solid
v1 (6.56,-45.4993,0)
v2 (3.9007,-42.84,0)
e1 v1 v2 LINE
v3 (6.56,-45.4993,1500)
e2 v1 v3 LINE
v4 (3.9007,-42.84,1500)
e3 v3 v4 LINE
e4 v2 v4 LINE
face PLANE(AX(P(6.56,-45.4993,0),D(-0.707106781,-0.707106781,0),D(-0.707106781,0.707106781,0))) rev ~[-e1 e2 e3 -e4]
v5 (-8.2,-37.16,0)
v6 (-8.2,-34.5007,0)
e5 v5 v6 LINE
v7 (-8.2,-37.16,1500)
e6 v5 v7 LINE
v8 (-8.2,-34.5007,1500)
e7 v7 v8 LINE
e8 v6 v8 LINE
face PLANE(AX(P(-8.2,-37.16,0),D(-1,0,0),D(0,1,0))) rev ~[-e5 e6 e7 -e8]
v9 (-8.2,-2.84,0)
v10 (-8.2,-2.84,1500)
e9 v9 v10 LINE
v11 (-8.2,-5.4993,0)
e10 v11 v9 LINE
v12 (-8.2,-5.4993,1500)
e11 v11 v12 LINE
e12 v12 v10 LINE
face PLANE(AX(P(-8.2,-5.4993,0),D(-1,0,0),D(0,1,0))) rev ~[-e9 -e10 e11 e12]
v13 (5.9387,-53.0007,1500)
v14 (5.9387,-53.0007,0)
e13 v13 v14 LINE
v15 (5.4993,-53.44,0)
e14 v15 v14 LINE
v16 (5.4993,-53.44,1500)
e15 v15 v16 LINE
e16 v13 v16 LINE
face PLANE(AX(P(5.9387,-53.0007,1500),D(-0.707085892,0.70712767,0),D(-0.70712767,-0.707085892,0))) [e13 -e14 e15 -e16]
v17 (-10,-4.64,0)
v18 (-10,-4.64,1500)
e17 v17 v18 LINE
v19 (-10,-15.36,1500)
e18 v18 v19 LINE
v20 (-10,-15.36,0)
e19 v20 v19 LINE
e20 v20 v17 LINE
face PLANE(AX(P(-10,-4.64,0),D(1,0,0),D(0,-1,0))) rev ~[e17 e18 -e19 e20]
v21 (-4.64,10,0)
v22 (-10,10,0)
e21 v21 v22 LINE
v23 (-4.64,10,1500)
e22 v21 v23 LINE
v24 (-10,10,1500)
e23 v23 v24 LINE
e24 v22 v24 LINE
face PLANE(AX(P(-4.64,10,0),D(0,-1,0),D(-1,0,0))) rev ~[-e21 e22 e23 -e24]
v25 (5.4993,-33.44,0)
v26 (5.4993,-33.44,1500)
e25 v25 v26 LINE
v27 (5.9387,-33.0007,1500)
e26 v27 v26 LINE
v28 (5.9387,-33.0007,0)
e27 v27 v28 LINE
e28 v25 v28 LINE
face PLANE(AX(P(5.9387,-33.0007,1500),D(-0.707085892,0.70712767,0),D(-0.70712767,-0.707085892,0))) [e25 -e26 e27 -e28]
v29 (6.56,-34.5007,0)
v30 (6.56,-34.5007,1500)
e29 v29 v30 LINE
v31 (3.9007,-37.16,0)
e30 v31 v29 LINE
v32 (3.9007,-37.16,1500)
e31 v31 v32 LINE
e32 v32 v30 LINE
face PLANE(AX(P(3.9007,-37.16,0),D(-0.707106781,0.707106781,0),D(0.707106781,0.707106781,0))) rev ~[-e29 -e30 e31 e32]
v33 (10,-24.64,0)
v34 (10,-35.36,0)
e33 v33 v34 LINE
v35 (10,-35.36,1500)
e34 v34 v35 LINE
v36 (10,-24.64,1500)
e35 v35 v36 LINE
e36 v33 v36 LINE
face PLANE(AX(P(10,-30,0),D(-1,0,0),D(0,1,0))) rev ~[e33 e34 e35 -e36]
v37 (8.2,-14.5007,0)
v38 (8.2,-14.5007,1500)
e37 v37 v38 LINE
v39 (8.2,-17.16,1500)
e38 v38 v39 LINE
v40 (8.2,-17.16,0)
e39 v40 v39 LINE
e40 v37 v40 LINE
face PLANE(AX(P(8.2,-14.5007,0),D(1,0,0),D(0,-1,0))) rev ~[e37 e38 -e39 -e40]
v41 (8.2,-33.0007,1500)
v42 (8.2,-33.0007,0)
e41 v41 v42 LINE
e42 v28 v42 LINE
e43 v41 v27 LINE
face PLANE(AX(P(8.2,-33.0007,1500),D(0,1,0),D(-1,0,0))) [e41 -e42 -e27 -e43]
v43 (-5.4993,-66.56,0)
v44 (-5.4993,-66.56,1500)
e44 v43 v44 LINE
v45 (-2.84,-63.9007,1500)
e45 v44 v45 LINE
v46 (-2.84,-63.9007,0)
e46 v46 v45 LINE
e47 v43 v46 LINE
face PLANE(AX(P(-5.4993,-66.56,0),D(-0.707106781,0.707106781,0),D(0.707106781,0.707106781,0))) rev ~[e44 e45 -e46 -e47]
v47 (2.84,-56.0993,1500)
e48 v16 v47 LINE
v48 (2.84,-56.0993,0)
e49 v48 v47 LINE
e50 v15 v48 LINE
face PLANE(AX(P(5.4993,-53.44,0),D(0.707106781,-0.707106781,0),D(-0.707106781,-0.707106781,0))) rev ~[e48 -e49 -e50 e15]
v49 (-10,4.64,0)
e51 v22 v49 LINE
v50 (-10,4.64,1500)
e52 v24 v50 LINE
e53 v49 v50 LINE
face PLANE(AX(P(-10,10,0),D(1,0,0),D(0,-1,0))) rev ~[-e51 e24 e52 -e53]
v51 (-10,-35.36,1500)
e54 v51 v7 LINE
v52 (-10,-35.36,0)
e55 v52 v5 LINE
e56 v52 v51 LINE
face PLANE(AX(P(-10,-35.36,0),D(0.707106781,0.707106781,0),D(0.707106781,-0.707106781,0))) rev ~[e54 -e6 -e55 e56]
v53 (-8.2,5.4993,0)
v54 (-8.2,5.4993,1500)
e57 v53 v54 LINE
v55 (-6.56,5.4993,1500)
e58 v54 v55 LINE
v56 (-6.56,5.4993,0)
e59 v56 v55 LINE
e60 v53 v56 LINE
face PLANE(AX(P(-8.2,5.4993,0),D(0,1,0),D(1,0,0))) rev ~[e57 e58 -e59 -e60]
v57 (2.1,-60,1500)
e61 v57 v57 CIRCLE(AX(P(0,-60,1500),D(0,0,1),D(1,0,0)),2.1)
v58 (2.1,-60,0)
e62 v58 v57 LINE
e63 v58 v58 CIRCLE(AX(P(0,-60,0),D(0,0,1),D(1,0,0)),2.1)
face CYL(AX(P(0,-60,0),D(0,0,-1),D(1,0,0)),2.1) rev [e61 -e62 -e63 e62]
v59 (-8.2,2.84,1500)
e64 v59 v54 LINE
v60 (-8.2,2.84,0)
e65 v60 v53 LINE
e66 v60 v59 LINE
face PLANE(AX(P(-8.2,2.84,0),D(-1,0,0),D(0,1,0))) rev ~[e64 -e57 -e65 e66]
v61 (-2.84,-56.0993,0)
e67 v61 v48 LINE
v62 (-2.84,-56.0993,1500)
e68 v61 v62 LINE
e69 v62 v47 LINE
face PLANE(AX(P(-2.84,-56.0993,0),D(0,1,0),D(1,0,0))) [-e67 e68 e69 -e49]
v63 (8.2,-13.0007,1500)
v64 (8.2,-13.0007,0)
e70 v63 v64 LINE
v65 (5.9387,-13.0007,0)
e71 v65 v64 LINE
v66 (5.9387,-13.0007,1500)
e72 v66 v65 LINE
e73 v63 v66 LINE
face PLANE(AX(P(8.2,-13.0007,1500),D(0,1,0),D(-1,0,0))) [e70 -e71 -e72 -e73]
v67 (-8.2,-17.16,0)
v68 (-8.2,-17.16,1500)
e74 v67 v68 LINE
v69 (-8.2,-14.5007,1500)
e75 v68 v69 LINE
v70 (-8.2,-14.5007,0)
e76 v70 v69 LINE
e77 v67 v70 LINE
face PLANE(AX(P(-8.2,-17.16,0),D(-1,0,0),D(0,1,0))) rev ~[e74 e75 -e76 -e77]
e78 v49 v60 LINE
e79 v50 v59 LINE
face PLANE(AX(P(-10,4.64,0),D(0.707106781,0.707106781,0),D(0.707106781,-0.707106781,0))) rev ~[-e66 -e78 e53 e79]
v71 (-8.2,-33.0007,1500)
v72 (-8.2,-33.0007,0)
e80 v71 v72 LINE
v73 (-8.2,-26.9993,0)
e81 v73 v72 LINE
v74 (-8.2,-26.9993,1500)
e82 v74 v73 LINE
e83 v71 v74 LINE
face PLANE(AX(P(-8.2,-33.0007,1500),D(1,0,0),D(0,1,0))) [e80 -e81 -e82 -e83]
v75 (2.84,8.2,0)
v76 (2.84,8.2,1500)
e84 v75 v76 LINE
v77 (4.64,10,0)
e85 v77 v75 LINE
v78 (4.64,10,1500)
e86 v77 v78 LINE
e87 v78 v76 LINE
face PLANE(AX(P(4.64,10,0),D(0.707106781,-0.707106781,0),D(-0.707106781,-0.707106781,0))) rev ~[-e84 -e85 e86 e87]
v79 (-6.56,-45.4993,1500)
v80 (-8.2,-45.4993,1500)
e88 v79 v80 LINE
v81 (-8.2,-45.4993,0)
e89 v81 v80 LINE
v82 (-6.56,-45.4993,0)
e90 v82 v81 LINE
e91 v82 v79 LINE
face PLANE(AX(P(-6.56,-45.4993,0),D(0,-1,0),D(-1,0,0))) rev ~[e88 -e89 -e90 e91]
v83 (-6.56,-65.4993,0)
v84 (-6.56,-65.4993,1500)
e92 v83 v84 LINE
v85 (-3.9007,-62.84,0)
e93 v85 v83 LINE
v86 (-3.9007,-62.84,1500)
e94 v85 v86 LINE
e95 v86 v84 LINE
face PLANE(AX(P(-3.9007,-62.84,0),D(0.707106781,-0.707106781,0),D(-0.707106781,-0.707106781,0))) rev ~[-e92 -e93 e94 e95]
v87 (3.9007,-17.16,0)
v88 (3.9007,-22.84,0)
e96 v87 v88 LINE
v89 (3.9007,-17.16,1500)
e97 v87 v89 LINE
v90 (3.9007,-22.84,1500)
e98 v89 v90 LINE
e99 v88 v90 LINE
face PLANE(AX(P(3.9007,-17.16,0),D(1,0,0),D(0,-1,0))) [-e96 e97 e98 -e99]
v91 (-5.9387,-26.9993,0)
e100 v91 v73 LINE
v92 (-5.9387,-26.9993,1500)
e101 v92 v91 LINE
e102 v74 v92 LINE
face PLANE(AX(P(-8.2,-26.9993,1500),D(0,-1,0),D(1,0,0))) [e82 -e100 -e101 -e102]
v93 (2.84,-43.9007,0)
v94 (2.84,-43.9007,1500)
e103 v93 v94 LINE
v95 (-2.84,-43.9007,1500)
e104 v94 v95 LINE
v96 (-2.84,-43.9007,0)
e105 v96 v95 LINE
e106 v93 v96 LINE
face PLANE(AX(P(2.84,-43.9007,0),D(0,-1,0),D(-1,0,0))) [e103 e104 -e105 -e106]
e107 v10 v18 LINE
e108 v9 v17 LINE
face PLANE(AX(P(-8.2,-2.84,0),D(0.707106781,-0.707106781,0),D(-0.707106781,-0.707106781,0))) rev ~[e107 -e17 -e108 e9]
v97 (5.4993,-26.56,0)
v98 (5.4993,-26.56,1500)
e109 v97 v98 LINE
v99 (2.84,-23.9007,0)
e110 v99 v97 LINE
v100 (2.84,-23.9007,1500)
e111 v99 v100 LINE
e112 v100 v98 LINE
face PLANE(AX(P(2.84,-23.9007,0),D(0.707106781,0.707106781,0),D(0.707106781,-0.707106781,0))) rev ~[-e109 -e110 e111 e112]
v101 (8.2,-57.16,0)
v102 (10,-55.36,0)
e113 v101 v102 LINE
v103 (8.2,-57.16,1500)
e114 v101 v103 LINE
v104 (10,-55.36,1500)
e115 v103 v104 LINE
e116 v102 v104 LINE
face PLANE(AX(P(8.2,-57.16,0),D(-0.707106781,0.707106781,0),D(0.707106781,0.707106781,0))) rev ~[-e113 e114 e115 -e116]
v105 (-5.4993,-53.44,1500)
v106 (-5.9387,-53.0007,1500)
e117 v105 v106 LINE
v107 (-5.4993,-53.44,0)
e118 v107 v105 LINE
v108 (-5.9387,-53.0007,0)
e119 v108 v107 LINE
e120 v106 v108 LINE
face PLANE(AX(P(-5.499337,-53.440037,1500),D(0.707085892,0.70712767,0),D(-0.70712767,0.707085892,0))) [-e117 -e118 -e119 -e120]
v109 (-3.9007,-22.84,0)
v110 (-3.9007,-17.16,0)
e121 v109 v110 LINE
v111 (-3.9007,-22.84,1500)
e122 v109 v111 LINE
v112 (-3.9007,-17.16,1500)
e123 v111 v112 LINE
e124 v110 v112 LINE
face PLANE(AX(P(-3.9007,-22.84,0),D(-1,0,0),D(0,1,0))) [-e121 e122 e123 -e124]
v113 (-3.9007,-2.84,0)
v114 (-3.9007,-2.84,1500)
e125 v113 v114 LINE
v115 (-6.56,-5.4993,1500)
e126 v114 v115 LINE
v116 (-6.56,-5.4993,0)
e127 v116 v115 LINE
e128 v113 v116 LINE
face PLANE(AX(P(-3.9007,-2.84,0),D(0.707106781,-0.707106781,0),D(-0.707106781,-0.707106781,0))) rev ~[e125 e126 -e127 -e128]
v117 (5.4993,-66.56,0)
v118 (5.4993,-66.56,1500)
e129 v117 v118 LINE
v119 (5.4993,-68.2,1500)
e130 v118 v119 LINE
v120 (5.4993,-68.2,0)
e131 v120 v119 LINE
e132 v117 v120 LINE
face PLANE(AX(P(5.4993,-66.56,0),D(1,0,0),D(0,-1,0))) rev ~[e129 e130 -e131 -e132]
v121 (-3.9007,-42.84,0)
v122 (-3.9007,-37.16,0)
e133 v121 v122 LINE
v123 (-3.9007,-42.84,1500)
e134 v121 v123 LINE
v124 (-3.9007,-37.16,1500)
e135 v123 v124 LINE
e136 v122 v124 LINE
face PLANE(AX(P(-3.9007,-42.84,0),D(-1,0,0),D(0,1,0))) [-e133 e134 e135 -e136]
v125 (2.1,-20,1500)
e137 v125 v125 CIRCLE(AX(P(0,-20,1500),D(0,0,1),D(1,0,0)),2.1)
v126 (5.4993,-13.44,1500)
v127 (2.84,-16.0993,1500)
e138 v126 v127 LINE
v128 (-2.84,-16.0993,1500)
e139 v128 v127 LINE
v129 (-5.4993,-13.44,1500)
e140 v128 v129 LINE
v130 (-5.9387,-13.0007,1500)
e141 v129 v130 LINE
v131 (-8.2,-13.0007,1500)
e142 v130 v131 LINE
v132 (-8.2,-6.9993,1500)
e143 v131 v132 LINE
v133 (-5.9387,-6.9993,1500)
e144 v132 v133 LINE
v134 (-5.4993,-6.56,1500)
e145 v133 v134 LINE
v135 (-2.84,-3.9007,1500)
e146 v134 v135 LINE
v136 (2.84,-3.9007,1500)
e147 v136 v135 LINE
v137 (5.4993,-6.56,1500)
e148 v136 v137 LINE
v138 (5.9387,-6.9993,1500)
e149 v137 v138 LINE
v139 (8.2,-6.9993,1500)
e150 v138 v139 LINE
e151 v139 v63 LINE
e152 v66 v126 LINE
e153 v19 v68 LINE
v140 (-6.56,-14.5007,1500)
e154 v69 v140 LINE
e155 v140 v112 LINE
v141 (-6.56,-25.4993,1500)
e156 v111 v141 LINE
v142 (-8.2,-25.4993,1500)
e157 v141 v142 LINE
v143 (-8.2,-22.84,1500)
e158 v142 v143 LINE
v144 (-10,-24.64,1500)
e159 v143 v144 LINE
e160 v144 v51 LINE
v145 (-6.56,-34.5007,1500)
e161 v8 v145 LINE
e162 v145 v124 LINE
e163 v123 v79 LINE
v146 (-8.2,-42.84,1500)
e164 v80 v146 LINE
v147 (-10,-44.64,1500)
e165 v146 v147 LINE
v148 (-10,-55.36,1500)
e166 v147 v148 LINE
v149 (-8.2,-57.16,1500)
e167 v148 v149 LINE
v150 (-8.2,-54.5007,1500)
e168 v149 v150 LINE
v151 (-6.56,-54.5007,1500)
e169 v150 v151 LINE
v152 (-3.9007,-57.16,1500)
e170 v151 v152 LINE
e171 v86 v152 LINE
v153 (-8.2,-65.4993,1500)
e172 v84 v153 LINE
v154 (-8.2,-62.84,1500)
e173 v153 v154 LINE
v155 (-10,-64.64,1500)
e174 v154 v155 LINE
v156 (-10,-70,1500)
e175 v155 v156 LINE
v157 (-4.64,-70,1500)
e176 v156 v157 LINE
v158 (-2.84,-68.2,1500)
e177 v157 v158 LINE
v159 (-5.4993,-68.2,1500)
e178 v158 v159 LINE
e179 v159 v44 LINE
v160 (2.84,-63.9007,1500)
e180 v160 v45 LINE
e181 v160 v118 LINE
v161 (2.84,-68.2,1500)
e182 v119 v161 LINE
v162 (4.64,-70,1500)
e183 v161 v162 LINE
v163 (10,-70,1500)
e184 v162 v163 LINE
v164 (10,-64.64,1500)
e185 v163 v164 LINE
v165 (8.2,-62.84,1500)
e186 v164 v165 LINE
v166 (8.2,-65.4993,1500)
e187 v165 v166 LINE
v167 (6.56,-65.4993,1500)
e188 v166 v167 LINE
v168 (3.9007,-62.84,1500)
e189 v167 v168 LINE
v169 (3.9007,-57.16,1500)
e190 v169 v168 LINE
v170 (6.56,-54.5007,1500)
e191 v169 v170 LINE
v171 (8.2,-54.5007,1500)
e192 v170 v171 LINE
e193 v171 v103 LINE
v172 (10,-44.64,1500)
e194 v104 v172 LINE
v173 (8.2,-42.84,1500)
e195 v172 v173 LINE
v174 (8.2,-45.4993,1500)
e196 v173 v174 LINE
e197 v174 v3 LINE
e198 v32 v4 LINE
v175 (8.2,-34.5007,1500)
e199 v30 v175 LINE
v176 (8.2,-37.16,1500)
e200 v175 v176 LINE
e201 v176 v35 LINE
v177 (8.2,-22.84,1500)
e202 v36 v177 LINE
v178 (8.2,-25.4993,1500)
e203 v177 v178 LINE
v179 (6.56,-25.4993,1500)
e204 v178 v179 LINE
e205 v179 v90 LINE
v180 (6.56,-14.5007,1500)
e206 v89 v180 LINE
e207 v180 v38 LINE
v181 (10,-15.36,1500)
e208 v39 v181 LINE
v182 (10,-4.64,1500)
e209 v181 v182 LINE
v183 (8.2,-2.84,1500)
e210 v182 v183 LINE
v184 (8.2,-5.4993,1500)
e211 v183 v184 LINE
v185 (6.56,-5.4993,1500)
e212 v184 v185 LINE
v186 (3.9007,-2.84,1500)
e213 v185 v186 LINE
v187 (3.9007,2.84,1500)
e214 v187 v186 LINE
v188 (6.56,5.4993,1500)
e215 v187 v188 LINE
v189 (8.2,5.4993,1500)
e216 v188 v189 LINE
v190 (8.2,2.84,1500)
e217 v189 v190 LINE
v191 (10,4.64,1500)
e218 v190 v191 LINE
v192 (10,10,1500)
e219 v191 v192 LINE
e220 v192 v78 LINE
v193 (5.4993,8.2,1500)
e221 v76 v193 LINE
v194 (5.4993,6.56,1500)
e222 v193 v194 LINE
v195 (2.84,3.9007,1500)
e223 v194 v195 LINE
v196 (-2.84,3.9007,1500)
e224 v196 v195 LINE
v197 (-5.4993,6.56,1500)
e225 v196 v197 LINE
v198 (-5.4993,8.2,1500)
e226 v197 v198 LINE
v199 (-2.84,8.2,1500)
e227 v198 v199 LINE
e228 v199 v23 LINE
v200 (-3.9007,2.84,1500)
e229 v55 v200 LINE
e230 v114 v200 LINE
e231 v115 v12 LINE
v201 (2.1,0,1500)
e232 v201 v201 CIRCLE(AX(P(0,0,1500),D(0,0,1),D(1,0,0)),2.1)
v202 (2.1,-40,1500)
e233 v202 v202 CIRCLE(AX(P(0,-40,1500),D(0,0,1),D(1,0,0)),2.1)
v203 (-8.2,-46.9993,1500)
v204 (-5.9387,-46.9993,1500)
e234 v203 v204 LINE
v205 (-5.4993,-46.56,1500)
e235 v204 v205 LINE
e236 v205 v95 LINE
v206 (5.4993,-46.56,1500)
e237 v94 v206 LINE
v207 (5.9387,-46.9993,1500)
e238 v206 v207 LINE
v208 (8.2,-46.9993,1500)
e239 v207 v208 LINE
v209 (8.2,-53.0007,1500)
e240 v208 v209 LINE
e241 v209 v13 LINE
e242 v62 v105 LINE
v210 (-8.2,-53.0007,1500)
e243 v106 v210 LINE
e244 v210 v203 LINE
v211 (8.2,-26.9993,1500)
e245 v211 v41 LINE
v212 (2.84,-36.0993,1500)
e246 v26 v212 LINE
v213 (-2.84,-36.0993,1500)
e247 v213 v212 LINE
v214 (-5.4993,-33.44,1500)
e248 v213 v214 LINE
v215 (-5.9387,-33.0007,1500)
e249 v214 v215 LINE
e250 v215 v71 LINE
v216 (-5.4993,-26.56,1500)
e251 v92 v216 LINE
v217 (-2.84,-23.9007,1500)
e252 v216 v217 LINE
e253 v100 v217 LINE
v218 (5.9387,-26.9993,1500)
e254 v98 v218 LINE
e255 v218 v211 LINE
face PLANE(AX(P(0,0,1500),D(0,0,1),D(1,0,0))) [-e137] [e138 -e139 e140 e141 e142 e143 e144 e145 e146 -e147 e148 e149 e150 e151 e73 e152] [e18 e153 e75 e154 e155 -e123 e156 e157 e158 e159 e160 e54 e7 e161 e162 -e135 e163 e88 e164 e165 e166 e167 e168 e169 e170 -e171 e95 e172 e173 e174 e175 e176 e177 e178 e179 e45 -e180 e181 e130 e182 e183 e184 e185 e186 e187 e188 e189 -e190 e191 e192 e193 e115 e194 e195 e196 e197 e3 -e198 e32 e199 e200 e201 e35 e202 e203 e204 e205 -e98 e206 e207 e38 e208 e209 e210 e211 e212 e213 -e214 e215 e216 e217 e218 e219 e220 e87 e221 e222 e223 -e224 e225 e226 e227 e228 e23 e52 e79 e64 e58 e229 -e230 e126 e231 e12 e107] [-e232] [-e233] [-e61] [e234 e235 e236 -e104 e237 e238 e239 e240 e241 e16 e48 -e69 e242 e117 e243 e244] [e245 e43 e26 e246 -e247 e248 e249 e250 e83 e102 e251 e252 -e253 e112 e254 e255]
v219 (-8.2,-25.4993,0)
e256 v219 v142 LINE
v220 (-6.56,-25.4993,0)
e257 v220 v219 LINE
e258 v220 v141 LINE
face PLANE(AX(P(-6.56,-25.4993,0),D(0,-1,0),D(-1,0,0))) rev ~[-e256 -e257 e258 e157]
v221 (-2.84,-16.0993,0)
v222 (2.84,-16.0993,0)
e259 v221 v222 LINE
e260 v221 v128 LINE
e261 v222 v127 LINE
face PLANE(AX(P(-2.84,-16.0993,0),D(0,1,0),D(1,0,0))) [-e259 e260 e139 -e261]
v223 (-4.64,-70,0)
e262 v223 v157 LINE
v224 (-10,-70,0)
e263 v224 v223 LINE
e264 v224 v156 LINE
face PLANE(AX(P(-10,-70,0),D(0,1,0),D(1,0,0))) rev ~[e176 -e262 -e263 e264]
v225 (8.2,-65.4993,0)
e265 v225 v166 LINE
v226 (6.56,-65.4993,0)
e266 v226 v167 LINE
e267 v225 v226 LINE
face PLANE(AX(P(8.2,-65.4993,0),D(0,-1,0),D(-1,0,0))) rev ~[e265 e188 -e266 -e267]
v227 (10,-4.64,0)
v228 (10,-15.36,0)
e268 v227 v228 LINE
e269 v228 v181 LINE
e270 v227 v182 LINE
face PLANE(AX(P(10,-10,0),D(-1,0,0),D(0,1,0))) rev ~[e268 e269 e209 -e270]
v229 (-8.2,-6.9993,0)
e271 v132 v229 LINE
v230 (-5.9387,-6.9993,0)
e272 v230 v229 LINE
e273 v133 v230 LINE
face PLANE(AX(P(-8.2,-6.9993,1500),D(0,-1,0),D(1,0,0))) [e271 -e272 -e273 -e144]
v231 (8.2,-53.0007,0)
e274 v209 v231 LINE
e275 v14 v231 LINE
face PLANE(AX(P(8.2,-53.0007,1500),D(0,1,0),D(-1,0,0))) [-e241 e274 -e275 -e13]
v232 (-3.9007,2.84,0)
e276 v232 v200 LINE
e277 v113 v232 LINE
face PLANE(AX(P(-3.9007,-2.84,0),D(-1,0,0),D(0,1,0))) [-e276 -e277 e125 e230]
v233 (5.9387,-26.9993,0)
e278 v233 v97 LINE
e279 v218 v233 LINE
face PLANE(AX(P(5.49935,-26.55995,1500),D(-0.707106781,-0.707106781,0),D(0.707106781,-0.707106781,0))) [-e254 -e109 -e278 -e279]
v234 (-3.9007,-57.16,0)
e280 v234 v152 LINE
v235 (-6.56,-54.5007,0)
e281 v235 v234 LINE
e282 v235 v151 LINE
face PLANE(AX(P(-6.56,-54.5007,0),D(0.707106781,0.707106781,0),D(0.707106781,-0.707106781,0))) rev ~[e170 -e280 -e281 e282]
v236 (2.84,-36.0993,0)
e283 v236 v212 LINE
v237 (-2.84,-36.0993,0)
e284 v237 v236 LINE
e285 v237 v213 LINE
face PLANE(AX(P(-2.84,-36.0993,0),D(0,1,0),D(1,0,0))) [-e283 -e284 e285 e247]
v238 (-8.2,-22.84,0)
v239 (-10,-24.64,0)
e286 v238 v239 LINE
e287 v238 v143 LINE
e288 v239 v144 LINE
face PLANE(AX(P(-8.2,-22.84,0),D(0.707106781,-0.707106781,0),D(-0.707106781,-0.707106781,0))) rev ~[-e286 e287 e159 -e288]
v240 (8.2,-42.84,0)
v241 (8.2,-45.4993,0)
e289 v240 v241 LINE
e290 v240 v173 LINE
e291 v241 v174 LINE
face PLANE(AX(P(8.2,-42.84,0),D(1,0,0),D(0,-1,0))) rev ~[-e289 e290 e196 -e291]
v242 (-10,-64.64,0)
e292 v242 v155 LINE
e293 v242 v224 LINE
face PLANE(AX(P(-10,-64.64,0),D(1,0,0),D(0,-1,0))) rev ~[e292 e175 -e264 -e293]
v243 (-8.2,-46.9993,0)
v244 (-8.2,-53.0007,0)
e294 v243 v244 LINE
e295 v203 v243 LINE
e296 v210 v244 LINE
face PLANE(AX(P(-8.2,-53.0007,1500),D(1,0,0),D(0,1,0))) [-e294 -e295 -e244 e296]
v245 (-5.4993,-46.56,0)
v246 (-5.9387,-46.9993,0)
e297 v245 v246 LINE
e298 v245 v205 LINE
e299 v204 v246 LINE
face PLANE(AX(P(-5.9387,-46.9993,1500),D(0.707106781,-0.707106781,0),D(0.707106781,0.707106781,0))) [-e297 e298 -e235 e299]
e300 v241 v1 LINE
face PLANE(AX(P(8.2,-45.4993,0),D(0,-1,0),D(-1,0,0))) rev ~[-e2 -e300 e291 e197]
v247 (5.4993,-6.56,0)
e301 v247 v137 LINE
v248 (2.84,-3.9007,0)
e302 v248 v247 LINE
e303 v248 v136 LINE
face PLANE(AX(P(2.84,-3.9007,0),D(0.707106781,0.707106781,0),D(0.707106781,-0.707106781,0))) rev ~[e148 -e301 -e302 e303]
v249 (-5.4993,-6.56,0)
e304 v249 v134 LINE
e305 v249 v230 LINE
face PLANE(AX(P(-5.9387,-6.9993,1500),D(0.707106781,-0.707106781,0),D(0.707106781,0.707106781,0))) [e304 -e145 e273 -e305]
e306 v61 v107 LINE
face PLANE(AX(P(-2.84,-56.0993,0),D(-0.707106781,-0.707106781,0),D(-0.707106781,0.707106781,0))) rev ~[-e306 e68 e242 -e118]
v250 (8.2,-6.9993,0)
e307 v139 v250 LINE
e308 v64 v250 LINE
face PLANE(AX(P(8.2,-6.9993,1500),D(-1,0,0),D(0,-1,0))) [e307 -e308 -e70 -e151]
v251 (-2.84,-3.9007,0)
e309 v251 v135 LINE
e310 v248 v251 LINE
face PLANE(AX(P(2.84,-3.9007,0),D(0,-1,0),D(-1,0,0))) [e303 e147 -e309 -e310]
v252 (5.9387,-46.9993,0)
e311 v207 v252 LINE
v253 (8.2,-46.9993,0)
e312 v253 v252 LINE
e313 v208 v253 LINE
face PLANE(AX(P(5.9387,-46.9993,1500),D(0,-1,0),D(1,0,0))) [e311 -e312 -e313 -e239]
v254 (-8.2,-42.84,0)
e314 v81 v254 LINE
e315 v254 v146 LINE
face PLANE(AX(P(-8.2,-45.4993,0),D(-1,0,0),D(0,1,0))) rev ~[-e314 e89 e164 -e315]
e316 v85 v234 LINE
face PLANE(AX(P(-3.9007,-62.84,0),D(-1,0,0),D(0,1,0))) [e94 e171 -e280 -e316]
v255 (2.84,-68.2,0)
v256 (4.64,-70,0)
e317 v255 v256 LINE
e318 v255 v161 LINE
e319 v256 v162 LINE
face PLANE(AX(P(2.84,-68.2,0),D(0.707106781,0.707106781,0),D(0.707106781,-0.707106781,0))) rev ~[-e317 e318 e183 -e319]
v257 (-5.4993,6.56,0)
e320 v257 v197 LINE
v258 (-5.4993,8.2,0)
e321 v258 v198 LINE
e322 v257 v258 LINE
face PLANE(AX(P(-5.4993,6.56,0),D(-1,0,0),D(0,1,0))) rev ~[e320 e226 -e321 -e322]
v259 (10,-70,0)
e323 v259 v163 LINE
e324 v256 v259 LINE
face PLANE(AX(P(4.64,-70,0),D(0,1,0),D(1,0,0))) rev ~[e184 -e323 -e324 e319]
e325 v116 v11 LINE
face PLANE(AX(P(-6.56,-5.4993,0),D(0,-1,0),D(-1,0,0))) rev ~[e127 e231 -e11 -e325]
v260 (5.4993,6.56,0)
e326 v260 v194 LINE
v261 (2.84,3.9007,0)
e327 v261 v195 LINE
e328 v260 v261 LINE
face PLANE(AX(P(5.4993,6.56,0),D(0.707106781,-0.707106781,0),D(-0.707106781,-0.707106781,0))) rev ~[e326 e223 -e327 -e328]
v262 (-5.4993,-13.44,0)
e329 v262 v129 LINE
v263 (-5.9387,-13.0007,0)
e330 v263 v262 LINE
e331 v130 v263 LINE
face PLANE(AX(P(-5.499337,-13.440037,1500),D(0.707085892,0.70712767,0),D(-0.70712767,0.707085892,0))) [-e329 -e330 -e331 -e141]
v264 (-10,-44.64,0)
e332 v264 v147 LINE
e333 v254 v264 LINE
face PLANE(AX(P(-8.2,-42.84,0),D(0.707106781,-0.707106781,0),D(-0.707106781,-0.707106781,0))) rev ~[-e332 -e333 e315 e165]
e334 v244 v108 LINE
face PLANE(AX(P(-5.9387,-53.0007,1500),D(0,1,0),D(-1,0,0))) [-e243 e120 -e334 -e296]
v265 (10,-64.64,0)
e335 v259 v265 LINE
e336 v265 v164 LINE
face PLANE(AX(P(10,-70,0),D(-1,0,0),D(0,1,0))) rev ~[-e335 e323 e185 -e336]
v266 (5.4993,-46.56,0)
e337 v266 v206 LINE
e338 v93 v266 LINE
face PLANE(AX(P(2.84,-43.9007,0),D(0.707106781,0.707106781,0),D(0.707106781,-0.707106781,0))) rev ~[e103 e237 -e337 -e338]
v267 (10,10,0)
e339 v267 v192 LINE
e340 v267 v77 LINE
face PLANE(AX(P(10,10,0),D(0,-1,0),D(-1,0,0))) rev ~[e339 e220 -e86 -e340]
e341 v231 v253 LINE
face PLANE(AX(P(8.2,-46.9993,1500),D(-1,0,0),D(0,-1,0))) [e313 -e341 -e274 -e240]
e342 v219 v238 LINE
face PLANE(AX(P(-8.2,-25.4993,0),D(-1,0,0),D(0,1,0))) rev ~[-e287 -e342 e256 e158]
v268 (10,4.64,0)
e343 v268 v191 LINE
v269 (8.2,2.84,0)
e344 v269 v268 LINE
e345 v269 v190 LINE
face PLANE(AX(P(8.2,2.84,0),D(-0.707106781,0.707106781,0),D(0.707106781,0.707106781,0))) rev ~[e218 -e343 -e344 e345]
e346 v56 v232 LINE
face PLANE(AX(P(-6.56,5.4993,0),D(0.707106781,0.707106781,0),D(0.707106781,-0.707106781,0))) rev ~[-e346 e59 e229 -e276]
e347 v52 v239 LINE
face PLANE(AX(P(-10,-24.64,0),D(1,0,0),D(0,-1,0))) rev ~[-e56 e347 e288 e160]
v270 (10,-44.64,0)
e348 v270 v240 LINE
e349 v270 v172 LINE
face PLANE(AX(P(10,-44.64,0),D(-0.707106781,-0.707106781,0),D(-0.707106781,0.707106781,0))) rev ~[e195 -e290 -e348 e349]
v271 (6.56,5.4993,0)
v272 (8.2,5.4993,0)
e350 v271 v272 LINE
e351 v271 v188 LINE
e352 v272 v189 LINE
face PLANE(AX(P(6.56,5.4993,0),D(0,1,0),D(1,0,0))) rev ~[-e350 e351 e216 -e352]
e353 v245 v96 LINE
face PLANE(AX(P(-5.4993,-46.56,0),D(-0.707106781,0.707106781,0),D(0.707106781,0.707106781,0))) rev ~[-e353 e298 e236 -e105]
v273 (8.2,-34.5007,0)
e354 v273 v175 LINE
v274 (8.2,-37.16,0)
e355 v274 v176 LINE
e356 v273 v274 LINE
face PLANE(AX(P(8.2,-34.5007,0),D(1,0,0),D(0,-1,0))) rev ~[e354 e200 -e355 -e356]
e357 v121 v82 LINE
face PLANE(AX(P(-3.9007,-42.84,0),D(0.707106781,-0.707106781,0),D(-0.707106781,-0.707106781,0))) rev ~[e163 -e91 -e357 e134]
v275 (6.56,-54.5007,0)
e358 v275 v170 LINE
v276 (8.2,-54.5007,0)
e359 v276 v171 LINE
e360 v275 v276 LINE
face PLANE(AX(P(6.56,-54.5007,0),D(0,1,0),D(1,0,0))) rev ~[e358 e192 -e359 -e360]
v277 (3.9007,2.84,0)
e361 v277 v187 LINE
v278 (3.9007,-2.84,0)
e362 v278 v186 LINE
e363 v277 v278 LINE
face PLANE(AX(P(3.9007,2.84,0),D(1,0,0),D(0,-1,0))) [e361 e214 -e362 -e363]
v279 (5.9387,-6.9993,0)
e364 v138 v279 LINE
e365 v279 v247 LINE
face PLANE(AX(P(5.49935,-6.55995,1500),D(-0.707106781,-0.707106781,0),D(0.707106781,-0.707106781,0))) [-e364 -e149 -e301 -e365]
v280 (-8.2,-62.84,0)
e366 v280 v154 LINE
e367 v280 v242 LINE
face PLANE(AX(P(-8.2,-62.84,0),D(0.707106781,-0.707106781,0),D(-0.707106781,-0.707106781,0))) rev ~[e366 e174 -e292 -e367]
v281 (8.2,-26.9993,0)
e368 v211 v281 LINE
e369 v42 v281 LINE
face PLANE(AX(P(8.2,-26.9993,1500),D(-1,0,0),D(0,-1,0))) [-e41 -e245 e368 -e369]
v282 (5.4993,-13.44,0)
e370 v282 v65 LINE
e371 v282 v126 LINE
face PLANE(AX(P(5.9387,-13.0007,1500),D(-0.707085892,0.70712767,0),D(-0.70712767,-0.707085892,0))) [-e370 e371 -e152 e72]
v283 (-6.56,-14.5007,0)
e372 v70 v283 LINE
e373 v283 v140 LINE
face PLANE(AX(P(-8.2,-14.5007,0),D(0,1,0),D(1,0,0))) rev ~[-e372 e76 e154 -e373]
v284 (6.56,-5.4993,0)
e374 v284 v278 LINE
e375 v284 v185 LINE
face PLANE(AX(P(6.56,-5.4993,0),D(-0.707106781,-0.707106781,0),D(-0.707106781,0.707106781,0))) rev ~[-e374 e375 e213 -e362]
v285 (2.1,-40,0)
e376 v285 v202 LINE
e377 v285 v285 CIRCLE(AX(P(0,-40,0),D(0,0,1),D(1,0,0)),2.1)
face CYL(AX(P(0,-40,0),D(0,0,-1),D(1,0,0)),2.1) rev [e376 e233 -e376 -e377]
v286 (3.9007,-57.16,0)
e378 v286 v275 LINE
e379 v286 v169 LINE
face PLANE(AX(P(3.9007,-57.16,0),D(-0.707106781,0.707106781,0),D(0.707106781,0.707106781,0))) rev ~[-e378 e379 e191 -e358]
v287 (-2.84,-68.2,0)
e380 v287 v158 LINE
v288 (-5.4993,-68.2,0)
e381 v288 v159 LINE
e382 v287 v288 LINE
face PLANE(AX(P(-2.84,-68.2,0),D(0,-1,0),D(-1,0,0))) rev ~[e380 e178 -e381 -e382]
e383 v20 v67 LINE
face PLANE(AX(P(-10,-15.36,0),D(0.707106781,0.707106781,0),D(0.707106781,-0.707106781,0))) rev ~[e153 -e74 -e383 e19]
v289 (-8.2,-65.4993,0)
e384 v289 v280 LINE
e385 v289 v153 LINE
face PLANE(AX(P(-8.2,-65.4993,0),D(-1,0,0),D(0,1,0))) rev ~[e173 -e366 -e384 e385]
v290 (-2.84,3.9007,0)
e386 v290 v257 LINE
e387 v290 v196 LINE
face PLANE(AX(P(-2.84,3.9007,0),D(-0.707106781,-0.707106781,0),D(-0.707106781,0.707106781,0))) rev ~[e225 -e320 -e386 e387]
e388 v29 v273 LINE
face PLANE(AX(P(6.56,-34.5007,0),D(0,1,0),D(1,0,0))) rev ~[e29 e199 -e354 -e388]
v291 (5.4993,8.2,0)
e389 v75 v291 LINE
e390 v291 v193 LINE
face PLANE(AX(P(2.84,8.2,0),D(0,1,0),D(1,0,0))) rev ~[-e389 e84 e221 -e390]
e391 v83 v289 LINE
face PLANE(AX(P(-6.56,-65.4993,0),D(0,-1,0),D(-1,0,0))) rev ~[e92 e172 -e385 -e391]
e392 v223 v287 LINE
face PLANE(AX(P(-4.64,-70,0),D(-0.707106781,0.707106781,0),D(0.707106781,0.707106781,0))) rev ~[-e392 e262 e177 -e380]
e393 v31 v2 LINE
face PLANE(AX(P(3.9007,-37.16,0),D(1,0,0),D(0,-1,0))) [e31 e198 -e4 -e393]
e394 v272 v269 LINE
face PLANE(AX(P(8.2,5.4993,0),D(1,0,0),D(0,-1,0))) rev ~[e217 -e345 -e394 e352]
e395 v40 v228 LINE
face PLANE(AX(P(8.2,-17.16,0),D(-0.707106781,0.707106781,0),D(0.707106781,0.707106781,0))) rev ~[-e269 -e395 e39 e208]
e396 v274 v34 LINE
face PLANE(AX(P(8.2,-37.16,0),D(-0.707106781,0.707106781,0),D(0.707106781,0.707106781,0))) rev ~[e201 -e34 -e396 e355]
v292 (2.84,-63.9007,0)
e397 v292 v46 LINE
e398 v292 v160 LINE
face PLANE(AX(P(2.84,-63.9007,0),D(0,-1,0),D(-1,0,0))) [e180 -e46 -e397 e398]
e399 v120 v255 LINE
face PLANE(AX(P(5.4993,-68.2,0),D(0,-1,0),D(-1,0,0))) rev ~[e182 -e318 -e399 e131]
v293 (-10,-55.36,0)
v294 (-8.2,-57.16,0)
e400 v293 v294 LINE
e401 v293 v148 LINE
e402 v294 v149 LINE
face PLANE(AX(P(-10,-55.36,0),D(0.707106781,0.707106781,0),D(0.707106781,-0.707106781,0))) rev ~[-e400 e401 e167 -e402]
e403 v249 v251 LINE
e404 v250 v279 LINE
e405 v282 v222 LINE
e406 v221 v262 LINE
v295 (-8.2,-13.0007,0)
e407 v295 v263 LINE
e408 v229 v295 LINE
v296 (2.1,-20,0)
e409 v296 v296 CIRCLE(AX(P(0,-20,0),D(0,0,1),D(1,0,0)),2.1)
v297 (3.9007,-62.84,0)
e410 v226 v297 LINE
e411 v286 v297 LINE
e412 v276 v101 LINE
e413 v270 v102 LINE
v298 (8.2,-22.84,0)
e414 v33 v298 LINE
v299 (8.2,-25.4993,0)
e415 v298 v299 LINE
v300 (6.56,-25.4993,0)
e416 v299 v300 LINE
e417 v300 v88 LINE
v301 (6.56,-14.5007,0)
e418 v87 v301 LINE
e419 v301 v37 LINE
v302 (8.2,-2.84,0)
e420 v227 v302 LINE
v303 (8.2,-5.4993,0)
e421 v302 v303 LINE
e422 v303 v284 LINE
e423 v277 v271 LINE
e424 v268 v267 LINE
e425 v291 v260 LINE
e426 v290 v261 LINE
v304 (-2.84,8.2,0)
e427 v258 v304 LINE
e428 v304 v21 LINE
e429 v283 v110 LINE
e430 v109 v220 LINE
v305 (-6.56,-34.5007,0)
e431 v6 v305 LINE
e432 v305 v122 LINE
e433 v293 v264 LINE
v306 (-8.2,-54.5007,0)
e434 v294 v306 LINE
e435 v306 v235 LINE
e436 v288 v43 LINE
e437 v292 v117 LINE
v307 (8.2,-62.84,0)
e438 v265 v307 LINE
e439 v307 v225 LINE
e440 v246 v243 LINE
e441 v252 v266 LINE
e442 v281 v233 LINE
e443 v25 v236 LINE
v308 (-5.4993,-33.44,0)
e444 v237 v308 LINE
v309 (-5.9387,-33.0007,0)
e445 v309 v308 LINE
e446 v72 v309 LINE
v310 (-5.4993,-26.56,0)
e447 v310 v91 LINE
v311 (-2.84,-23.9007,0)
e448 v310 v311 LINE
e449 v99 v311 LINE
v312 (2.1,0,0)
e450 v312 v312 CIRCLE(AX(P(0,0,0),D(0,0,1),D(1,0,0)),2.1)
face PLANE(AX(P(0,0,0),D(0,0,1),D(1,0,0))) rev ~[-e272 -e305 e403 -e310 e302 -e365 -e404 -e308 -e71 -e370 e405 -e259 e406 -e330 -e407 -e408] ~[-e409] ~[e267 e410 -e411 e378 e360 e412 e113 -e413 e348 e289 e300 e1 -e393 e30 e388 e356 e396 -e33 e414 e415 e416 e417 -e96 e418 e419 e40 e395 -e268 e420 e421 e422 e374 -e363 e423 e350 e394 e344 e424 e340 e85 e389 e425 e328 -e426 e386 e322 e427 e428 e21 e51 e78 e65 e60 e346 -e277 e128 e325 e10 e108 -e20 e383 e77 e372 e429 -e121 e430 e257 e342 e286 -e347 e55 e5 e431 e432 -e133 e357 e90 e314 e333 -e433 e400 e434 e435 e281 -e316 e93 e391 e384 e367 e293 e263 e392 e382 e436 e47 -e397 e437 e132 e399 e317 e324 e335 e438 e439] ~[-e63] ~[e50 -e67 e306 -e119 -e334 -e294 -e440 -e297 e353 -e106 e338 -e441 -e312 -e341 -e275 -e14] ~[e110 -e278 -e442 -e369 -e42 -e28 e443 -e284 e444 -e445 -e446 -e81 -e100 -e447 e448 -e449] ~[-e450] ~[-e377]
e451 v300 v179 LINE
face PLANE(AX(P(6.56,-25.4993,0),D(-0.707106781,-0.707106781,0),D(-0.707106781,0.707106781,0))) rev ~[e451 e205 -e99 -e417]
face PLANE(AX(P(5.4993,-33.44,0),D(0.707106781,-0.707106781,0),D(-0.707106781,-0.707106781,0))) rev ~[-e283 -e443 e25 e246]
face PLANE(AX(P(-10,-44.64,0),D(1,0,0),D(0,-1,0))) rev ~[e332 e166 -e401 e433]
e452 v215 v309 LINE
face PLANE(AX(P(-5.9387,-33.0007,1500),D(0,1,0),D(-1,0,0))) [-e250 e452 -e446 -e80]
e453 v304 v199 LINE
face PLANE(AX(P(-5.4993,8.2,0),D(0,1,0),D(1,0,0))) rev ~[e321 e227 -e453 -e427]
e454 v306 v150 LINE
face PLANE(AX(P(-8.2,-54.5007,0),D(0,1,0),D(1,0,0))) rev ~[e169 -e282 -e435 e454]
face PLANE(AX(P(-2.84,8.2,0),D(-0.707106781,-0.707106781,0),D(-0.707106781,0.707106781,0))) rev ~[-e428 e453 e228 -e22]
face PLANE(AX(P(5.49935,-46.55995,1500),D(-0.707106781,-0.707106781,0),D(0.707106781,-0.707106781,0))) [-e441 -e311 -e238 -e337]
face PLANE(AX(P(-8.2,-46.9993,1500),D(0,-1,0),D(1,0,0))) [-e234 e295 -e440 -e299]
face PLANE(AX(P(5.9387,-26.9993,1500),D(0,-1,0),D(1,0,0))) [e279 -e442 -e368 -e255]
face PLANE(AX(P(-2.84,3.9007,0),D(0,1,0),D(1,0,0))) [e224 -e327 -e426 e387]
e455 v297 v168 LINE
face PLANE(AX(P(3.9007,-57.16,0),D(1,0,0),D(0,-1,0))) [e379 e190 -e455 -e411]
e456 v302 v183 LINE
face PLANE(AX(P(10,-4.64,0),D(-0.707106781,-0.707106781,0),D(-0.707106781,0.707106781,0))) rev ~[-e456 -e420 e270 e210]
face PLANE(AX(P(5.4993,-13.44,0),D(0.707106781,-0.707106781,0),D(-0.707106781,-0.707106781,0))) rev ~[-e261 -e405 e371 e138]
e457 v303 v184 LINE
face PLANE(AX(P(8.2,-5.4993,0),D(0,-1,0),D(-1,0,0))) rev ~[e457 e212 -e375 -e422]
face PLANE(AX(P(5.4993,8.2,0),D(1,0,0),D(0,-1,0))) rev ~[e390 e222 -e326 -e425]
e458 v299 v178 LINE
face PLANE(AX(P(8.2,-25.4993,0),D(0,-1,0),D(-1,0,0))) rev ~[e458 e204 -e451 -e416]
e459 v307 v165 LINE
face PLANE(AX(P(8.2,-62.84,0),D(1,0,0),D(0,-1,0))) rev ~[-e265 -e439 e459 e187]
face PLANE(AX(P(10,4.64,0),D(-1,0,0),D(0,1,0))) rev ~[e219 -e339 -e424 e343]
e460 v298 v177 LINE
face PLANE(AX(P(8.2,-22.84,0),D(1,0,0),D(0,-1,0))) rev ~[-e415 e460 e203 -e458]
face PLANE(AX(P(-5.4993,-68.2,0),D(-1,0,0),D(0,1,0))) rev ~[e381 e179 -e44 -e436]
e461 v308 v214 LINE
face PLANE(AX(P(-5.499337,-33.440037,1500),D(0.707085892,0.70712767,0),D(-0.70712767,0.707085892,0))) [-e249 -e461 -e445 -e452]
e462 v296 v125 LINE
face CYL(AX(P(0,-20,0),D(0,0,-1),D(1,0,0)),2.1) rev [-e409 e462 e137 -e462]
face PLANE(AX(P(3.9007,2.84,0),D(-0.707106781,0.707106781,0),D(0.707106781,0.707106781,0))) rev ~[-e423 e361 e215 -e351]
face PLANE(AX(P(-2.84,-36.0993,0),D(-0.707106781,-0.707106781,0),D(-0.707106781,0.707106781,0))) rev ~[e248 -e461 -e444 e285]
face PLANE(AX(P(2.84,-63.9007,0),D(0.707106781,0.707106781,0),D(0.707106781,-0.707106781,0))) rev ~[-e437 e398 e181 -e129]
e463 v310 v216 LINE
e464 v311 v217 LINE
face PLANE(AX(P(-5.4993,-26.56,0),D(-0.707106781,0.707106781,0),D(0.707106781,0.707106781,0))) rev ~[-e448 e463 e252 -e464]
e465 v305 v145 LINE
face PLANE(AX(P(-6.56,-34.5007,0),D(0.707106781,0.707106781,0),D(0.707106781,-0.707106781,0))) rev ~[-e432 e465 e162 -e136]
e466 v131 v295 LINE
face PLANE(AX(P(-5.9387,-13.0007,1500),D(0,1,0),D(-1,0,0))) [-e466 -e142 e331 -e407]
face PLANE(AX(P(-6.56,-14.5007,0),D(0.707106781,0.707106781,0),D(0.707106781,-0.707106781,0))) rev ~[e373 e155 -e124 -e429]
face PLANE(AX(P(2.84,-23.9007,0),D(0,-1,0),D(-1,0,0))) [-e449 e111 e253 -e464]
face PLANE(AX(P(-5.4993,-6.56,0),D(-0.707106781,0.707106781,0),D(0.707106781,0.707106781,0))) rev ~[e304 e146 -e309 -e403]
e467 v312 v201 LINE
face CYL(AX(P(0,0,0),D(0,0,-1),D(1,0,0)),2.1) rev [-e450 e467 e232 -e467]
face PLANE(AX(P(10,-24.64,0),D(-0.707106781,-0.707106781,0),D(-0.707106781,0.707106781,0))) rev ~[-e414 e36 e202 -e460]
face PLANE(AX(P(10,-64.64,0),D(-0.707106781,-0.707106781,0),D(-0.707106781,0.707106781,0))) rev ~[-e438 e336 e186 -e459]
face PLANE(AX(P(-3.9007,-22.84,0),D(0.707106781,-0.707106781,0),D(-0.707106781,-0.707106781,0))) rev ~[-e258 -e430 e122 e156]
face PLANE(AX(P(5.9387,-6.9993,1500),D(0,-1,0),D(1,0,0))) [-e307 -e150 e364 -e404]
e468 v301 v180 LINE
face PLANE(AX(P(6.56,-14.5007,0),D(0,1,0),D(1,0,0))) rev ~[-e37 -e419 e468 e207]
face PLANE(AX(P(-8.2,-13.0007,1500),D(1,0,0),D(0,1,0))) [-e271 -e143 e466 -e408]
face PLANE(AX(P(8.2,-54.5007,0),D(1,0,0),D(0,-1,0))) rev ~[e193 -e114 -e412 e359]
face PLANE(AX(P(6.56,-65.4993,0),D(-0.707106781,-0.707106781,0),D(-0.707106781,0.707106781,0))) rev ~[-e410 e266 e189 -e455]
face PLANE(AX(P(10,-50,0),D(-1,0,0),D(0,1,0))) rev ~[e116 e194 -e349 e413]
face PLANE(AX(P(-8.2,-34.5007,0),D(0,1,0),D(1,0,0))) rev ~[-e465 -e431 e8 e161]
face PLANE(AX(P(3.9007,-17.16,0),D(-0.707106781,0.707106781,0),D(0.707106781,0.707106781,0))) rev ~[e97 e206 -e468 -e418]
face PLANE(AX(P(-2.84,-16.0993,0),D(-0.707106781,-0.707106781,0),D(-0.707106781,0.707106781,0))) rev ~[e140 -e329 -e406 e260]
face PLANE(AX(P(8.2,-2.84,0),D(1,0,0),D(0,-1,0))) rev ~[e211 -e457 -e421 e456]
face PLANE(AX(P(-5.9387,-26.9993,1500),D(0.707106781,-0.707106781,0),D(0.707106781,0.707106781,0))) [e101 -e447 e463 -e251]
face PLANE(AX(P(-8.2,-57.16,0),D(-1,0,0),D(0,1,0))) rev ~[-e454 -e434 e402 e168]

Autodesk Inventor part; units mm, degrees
ref_plane "YZ Plane" through (0, 0, 0) normal (1, 0, 0) x (0, 1, 0)
ref_plane "XZ Plane" through (0, 0, 0) normal (0, 1, 0) x (-1, 0, 0)
ref_plane "XY Plane" through (0, 0, 0) normal (0, 0, 1) x (1, 0, 0)
sketch "Sketch1" plane through (0, 0, 0) normal (0, 0, 1) x (1, 0, 0)
  line L0 (-3.9007, 3.9007) -> (3.9007, 3.9007)
  line L1 (3.9007, 3.9007) -> (3.9007, -3.9007)
  line L2 (3.9007, -3.9007) -> (-3.9007, -3.9007)
  line L3 (-3.9007, -3.9007) -> (-3.9007, 3.9007)
  line L4 (0, 3.9007) -> (0, -3.9007) construction
  line L5 (-3.9007, 0) -> (3.9007, 0) construction
  circle A0 centre (0, 0) radius 2.1
  line L6 (0, 0) -> (-16.1173, 16.1173) construction
  line L7 (0, 0) -> (22.7933, 0) construction
  line L8 (-2.84, 3.9007) -> (-5.4993, 6.56)
  line L9 (-5.4993, 6.56) -> (-5.4993, 8.2)
  line L10 (-5.4993, 8.2) -> (-2.84, 8.2)
  line L11 (-2.84, 8.2) -> (-4.64, 10)
  line L12 (-4.64, 10) -> (-10, 10)
  line L13 (-10, 10) -> (-10, 4.64)
  line L14 (-10, 4.64) -> (-8.2, 2.84)
  line L15 (-8.2, 2.84) -> (-8.2, 5.4993)
  line L16 (-8.2, 5.4993) -> (-6.56, 5.4993)
  line L17 (-6.56, 5.4993) -> (-3.9007, 2.84)
  line L18 (-3.9007, 2.84) -> (-11.3102, 2.84) construction
  line L19 (-2.84, 3.9007) -> (-3.9007, 3.9007)
  line L20 (-3.9007, 2.84) -> (-3.9007, 3.9007)
  line L21 (-3.9007, -2.84) -> (-6.56, -5.4993)
  line L22 (-6.56, -5.4993) -> (-8.2, -5.4993)
  line L23 (-8.2, -5.4993) -> (-8.2, -2.84)
  line L24 (-8.2, -2.84) -> (-10, -4.64)
  line L25 (-10, -4.64) -> (-10, -10)
  line L26 (-10, -10) -> (-4.64, -10)
  line L27 (-4.64, -10) -> (-2.84, -8.2)
  line L28 (-2.84, -8.2) -> (-5.4993, -8.2)
  line L29 (-5.4993, -8.2) -> (-5.4993, -6.56)
  line L30 (-5.4993, -6.56) -> (-2.84, -3.9007)
  line L31 (-3.9007, -2.84) -> (-3.9007, -3.9007)
  line L32 (-2.84, -3.9007) -> (-3.9007, -3.9007)
  line L33 (2.84, -3.9007) -> (5.4993, -6.56)
  line L34 (5.4993, -6.56) -> (5.4993, -8.2)
  line L35 (5.4993, -8.2) -> (2.84, -8.2)
  line L36 (2.84, -8.2) -> (4.64, -10)
  line L37 (4.64, -10) -> (10, -10)
  line L38 (10, -10) -> (10, -4.64)
  line L39 (10, -4.64) -> (8.2, -2.84)
  line L40 (8.2, -2.84) -> (8.2, -5.4993)
  line L41 (8.2, -5.4993) -> (6.56, -5.4993)
  line L42 (6.56, -5.4993) -> (3.9007, -2.84)
  line L43 (2.84, -3.9007) -> (3.9007, -3.9007)
  line L44 (3.9007, -2.84) -> (3.9007, -3.9007)
  line L45 (3.9007, 2.84) -> (6.56, 5.4993)
  line L46 (6.56, 5.4993) -> (8.2, 5.4993)
  line L47 (8.2, 5.4993) -> (8.2, 2.84)
  line L48 (8.2, 2.84) -> (10, 4.64)
  line L49 (10, 4.64) -> (10, 10)
  line L50 (10, 10) -> (4.64, 10)
  line L51 (4.64, 10) -> (2.84, 8.2)
  line L52 (2.84, 8.2) -> (5.4993, 8.2)
  line L53 (5.4993, 8.2) -> (5.4993, 6.56)
  line L54 (5.4993, 6.56) -> (2.84, 3.9007)
  line L55 (3.9007, 2.84) -> (3.9007, 3.9007)
  line L56 (2.84, 3.9007) -> (3.9007, 3.9007)
  dimension "d7" = 4.2
  dimension "d8" = 135
  dimension "d9" = 1.5
  dimension "d10" = 1.64
  dimension "d11" = 1.8
  dimension "d12" = 2.84
  dimension "d13" = 10
  dimension "d16" = 360
extrude "Extrusion1" add sketch "Sketch1" along normal blind 1500
pattern_linear "Rectangular Pattern1" count 4 spacing 20 along (0, -1, 0) of "Extrusion1"
sketch "Sketch2" plane through (0, 0, 1500) normal (0, 0, 1) x (1, 0, 0)
  line L0 (8.2, -2.84) -> (8.2, -5.4993) projected
  line L1 (8.2, -5.4993) -> (6.56, -5.4993) projected
  line L2 (-6.56, -5.4993) -> (-8.2, -5.4993) projected
  line L3 (-8.2, -5.4993) -> (-8.2, -2.84) projected
  line L4 (-8.2, -14.5007) -> (-6.56, -14.5007) projected
  line L5 (6.56, -14.5007) -> (8.2, -14.5007) projected
  line L6 (5.4993, -11.8) -> (5.4993, -13.44) projected
  line L7 (5.4993, -13.44) -> (2.84, -16.0993) projected
  line L8 (-2.84, -16.0993) -> (-5.4993, -13.44) projected
  line L9 (-5.4993, -8.2) -> (-5.4993, -6.56) projected
  line L10 (-5.4993, -6.56) -> (-2.84, -3.9007) projected
  line L11 (2.84, -3.9007) -> (5.4993, -6.56) projected
  line L12 (2.84, -8.2) -> (4.64, -10) projected
  line L13 (-8.2, -6.9993) -> (-5.9387, -6.9993)
  line L14 (-5.9387, -6.9993) -> (-4.1231, -5.1837)
  line L15 (-4.1231, -5.1837) -> (4.1231, -5.1837)
  line L16 (4.1231, -5.1837) -> (5.9387, -6.9993)
  line L17 (5.9387, -6.9993) -> (8.2, -6.9993)
  line L18 (8.2, -6.9993) -> (8.2, -13.0007)
  line L19 (8.2, -13.0007) -> (5.9387, -13.0007)
  line L20 (5.9387, -13.0007) -> (4.2461, -14.6932)
  line L21 (4.2461, -14.6932) -> (-4.2461, -14.6932)
  line L22 (-4.2461, -14.6932) -> (-5.9387, -13.0007)
  line L23 (-5.9387, -13.0007) -> (-8.2, -13.0007)
  line L24 (-8.2, -13.0007) -> (-8.2, -6.9993)
  dimension "d23" = 1.5
  dimension "d24" = 1.5
  dimension "d25" = 1.5
  dimension "d26" = 1.5
extrude "Extrusion2" cut sketch "Sketch2" against normal up to next
pattern_linear "Rectangular Pattern2" count 3 spacing 20 along (0, -1, 0) of "Extrusion2"
equation "\"d24\" = d23"
equation "\"d25\" = d23"
equation "\"d26\" = d23"
properties part number "20x80x1500mm"
